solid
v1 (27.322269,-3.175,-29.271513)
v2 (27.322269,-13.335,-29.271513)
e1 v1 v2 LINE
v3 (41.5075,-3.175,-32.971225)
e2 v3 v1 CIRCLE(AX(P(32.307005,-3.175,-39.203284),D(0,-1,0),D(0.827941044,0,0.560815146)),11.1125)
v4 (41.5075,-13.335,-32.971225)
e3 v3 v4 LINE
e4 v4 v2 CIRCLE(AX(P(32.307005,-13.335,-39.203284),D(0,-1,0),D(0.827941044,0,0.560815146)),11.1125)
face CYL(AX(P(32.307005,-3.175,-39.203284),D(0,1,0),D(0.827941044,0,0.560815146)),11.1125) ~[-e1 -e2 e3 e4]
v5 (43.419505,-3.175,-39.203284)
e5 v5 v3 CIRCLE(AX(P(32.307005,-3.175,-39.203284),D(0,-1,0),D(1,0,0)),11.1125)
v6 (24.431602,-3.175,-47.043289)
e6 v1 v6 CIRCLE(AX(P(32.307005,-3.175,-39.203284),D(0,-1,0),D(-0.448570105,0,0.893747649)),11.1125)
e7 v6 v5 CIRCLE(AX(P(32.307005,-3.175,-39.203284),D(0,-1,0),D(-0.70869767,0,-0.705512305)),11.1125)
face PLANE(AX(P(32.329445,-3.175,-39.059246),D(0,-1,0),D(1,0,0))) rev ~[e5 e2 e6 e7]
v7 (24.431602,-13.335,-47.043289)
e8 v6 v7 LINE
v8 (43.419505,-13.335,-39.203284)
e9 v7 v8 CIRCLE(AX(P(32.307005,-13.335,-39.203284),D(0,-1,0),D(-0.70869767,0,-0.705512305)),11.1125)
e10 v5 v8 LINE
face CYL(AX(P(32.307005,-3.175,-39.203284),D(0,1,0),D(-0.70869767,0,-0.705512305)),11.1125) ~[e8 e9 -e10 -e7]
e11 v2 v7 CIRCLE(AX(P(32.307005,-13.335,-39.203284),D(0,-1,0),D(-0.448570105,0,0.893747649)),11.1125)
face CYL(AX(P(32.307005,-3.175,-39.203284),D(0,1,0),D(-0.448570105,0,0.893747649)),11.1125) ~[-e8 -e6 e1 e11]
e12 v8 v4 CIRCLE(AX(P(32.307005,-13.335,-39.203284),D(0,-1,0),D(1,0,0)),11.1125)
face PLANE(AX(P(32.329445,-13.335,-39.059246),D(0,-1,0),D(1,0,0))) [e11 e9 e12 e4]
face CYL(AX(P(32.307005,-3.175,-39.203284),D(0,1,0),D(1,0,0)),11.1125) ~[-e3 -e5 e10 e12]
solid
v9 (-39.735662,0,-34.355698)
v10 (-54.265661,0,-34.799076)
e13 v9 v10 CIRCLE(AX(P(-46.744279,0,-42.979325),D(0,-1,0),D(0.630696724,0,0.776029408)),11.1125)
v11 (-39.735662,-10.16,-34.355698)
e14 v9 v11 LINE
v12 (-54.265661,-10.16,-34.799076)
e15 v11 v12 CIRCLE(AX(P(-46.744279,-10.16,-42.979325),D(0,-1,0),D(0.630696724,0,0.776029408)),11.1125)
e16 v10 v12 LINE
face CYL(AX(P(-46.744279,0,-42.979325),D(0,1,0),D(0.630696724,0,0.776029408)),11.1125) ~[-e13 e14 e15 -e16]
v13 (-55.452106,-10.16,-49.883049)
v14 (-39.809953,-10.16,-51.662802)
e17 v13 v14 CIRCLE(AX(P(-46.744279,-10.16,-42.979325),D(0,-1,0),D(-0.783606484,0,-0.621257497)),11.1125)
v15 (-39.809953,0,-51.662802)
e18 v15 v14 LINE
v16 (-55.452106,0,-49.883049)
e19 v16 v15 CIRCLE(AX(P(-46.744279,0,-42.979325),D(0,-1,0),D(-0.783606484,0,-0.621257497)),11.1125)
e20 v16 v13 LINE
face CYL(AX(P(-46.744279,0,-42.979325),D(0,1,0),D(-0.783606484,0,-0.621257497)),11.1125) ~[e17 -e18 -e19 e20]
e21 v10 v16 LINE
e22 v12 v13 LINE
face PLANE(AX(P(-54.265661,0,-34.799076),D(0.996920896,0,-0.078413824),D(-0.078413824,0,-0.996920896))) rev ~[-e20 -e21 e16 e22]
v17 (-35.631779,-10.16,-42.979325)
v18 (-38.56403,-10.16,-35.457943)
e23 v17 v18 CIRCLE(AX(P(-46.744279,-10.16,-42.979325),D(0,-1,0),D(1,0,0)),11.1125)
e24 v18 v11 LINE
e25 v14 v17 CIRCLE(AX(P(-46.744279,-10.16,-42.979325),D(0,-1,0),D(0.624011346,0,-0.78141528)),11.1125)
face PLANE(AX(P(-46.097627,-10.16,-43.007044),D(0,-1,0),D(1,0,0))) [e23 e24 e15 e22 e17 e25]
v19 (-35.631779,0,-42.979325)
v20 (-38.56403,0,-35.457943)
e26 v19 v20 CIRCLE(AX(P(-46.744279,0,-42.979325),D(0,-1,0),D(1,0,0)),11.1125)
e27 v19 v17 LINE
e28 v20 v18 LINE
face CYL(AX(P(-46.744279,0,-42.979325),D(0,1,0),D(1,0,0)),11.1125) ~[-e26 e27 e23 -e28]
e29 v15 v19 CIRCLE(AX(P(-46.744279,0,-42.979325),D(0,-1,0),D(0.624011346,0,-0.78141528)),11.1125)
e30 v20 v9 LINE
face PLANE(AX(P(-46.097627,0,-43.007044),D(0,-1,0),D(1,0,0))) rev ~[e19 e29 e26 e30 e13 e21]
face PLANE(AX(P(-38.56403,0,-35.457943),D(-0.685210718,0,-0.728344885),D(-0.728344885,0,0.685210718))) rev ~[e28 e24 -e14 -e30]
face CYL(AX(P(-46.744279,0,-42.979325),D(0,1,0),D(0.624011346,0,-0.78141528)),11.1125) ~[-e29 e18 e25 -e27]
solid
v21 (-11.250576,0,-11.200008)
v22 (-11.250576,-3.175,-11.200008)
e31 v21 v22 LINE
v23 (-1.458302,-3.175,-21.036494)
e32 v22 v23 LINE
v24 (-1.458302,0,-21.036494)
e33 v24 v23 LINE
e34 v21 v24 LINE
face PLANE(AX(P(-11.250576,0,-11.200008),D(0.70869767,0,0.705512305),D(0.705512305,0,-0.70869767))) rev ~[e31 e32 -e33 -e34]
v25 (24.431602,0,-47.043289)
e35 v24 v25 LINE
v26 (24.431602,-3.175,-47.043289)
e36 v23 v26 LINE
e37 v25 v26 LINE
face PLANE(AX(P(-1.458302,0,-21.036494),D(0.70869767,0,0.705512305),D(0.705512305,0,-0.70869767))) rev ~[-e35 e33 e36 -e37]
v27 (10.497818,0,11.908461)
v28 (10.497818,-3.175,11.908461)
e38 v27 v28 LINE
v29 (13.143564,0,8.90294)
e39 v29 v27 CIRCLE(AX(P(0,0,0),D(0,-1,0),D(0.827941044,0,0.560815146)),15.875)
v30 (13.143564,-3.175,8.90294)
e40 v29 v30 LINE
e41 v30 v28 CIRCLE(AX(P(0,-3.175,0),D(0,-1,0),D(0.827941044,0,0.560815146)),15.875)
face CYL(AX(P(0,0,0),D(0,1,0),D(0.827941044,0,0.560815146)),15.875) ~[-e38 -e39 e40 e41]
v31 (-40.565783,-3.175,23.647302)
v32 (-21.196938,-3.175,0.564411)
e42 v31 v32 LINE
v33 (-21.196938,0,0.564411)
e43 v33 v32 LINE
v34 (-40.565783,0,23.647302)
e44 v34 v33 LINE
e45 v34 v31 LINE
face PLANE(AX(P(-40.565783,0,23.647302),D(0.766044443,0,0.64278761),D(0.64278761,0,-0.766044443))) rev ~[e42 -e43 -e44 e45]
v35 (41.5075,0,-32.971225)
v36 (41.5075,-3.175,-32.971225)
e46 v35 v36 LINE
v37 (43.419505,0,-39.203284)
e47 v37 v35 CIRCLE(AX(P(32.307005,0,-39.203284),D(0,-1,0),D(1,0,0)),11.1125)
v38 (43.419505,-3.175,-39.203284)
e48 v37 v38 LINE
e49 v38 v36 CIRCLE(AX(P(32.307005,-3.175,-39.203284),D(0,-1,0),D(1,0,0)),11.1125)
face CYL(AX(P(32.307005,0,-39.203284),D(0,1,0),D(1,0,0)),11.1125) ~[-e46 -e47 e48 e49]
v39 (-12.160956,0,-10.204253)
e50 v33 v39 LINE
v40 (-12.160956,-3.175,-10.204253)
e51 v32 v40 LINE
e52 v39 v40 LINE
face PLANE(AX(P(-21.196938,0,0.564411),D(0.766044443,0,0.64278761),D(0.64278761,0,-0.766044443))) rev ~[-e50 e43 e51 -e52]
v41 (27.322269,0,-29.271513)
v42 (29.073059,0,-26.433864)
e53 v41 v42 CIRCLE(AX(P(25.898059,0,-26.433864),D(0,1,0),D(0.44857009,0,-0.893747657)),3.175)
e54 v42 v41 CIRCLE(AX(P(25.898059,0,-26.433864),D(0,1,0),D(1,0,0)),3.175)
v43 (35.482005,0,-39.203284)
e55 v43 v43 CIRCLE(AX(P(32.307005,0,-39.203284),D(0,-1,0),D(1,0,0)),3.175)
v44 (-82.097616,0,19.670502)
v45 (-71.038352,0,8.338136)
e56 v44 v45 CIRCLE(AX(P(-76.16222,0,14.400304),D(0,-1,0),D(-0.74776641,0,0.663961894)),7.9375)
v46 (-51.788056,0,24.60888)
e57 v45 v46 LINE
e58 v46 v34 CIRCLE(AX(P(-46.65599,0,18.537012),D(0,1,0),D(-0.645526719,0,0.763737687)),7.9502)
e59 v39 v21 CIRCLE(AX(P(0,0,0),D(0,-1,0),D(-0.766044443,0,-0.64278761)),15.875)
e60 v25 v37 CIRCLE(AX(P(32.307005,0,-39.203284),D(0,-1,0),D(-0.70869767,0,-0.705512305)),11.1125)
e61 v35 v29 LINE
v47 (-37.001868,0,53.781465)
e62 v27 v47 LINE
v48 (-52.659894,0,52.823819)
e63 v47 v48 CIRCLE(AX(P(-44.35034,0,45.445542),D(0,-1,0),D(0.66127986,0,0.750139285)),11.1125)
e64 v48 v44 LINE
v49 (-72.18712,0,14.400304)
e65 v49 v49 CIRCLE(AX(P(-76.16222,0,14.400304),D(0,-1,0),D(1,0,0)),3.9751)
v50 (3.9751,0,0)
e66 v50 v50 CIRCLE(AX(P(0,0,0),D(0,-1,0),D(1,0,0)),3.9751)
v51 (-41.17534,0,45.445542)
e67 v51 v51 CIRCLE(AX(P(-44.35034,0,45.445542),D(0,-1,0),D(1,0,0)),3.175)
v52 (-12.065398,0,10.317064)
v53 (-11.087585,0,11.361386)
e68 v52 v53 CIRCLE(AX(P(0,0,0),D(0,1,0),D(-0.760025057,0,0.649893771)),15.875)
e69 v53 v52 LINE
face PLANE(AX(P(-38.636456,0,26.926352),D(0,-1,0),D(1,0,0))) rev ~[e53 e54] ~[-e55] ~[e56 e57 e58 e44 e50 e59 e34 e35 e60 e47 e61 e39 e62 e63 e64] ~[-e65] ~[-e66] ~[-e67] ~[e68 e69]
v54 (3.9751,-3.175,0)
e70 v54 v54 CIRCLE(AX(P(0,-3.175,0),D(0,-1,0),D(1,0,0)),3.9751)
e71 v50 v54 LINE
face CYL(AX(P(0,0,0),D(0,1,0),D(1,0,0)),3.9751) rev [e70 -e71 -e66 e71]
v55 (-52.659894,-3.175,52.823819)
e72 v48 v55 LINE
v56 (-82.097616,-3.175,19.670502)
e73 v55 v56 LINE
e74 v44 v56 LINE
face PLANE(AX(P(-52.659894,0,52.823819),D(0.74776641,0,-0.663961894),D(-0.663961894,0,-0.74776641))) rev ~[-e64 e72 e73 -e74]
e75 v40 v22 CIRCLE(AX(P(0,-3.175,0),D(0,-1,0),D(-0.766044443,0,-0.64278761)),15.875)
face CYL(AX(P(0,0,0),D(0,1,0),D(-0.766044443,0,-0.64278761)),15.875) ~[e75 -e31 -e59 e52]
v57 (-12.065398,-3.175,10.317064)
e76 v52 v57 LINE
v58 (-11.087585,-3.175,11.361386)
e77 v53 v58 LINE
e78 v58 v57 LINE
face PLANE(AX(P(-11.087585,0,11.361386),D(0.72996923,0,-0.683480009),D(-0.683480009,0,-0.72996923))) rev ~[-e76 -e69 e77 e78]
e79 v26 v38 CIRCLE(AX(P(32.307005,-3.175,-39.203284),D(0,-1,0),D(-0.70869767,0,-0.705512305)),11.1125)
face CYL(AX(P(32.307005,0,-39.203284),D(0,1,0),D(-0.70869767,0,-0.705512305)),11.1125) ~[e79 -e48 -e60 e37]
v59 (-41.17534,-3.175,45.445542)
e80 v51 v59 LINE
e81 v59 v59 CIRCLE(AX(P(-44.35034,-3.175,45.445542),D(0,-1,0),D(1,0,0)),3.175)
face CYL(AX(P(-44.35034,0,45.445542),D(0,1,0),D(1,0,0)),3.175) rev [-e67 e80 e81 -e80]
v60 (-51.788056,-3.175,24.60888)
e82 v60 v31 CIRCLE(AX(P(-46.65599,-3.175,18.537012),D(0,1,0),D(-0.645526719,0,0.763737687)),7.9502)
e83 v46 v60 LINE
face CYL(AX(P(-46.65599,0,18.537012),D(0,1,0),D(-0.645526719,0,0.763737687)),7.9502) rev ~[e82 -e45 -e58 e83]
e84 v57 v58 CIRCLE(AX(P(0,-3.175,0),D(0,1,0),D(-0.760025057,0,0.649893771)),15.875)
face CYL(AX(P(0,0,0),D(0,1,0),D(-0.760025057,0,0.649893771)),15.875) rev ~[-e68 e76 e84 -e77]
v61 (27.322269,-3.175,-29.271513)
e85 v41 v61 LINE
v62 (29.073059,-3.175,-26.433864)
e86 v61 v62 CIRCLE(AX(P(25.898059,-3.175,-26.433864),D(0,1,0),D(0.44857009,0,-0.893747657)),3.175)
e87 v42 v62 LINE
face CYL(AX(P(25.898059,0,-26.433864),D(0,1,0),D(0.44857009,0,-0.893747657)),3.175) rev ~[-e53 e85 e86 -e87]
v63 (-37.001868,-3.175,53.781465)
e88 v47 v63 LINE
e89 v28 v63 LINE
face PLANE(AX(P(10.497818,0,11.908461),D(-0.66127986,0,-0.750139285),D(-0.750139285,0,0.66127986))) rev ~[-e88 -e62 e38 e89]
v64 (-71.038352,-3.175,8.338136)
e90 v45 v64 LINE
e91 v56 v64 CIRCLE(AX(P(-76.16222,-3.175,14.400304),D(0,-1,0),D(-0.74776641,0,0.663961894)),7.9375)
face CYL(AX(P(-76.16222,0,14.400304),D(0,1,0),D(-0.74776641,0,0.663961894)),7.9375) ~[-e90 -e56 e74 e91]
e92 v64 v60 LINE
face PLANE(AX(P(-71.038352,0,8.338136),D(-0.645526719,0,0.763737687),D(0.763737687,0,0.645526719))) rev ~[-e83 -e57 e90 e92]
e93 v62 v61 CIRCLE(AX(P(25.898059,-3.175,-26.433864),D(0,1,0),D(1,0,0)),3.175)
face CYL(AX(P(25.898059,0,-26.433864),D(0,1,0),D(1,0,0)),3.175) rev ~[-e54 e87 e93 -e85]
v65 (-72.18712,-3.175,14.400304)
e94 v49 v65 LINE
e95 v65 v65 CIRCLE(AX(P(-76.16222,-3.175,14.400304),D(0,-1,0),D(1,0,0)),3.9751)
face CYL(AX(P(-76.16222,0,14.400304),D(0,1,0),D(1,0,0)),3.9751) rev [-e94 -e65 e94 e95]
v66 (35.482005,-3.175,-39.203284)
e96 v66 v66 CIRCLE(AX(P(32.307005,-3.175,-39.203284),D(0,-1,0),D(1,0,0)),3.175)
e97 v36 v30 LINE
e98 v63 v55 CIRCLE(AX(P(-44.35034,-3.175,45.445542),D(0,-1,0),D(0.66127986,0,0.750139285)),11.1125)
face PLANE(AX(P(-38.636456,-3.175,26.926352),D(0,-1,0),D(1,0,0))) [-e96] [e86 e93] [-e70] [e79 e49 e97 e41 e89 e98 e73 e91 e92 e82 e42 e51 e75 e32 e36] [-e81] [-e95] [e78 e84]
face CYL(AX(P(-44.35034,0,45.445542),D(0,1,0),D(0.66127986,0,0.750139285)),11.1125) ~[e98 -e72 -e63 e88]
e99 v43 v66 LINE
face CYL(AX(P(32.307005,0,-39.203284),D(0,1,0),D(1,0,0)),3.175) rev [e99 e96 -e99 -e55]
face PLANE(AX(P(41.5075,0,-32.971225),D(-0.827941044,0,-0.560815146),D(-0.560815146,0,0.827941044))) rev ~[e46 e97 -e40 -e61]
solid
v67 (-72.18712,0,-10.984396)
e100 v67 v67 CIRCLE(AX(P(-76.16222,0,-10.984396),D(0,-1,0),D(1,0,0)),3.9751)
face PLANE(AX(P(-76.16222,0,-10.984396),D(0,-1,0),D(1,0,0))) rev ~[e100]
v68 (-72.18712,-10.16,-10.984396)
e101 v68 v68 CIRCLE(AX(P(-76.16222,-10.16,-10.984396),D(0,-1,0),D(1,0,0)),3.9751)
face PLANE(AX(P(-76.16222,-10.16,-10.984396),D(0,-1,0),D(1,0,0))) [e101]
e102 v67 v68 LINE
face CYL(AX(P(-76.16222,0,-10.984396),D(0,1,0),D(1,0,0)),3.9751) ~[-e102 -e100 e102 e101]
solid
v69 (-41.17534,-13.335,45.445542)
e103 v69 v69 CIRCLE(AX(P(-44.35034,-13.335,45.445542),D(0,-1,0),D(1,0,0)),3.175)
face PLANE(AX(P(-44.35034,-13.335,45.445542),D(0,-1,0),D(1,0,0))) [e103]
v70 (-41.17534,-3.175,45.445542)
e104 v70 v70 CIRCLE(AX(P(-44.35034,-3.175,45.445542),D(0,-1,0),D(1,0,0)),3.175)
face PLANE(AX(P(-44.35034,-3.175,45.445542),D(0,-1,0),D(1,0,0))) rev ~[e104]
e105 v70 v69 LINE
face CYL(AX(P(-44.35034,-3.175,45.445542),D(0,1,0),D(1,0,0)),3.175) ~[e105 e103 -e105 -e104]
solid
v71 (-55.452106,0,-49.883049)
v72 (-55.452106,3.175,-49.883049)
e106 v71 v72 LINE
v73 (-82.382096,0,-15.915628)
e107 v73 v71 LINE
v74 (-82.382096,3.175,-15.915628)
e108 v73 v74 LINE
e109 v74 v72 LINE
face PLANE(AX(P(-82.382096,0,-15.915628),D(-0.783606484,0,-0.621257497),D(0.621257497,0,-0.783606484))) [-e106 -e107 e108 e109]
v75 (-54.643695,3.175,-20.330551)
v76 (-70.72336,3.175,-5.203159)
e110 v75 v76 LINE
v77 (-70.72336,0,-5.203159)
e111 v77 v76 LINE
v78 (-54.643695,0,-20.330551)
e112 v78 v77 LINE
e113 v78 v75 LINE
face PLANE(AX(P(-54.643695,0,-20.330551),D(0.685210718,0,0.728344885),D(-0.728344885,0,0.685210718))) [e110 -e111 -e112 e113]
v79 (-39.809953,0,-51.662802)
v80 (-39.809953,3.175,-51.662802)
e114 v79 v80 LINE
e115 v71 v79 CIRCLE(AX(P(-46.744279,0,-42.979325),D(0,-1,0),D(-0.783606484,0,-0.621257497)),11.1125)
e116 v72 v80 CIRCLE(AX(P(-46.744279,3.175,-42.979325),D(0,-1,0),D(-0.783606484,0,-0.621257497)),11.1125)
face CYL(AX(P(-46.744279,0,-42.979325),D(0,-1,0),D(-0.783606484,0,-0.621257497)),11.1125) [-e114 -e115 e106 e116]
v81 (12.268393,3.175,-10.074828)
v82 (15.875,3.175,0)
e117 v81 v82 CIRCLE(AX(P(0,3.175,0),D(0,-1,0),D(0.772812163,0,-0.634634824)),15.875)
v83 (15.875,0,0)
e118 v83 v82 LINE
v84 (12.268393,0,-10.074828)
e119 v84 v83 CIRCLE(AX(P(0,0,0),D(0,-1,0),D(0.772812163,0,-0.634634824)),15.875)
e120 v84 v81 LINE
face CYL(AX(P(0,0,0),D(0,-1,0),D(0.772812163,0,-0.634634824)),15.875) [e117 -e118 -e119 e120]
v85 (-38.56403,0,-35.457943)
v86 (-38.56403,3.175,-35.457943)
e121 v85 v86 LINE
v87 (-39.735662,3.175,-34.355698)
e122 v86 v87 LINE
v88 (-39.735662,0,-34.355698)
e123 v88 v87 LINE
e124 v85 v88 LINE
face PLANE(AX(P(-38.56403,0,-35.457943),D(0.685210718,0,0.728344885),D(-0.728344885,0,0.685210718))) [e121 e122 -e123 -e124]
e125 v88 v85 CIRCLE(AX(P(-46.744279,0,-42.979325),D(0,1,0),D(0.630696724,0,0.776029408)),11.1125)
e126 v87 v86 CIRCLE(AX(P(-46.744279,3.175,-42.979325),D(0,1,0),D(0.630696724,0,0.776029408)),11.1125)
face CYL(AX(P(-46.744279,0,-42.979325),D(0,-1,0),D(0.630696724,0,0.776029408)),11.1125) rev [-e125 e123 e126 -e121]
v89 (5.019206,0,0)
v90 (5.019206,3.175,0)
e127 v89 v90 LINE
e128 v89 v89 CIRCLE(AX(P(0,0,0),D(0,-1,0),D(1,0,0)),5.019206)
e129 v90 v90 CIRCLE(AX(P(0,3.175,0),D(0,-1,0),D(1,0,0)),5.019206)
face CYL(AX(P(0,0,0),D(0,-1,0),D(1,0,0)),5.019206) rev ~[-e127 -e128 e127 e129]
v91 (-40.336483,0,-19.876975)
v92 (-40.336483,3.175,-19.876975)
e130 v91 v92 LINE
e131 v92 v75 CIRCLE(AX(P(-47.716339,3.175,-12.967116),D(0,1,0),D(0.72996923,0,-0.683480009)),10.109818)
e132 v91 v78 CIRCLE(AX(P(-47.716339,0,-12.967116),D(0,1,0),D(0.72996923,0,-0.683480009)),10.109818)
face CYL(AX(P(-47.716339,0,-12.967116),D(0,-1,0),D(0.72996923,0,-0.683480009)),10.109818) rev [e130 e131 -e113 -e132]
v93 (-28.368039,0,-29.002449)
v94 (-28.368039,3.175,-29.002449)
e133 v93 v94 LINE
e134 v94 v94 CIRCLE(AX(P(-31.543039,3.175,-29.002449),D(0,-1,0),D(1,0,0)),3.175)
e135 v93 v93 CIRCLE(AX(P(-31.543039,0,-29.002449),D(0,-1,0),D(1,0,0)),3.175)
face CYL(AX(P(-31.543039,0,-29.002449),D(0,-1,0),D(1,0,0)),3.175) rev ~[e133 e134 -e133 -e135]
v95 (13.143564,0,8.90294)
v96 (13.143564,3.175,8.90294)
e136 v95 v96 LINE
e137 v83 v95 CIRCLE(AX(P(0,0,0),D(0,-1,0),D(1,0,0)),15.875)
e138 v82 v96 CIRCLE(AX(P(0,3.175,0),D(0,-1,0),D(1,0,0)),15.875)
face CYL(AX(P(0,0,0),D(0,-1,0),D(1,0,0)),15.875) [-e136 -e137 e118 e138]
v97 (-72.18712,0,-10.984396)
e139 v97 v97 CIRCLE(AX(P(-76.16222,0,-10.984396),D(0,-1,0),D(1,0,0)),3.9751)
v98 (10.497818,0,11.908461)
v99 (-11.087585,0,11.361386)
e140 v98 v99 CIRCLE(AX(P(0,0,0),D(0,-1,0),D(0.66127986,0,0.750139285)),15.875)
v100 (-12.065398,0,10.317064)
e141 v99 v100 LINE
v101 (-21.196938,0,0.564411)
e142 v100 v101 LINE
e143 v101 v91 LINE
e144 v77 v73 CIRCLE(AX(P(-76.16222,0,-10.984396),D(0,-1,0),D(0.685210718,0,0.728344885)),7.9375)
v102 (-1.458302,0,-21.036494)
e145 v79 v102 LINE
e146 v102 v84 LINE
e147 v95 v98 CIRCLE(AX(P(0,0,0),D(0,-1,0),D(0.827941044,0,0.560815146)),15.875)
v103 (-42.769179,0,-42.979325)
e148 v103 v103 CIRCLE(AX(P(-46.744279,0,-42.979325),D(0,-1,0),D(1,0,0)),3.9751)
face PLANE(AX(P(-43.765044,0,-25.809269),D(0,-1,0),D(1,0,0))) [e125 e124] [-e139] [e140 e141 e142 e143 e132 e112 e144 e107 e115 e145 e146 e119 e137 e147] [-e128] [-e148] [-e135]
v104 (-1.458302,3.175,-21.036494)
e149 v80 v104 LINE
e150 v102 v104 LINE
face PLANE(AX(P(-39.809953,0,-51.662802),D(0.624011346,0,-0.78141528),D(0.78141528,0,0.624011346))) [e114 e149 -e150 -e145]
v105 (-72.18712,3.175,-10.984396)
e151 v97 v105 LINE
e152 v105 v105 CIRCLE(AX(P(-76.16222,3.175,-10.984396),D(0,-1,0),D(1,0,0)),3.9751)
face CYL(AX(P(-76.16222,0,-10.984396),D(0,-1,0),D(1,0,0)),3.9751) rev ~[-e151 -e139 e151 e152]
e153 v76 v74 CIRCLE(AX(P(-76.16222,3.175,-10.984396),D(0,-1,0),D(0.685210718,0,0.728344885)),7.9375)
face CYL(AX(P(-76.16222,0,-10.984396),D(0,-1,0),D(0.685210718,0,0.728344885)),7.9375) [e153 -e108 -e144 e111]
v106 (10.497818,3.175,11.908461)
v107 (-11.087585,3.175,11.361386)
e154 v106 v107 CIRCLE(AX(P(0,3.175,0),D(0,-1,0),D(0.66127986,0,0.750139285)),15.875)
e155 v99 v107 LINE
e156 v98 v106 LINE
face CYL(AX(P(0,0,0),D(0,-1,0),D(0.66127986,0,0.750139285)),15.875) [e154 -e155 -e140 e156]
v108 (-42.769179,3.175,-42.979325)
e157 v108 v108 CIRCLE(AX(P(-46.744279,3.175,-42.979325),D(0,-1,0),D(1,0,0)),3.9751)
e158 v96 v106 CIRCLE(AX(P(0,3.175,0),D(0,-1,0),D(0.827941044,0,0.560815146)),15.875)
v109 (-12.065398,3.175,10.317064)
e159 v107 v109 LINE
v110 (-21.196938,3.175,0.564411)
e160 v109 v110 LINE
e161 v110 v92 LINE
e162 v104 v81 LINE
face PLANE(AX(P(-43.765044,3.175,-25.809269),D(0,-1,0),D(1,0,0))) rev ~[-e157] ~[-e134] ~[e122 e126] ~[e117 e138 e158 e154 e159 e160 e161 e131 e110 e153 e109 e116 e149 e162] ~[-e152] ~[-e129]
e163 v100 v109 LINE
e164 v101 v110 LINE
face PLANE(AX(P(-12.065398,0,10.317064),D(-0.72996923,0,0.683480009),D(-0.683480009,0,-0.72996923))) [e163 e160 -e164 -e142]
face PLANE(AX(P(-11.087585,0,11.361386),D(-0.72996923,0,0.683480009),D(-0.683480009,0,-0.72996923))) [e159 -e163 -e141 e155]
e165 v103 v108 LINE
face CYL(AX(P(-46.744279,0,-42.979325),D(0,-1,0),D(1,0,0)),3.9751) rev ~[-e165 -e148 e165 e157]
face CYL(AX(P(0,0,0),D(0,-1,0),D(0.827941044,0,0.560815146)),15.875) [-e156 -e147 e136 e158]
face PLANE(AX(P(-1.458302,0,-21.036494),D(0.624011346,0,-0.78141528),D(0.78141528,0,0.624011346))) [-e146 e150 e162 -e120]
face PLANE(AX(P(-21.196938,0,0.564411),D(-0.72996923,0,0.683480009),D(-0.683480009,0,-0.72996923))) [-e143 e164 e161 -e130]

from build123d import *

# Parameters (mm, degrees)
F0_R     = 5.0192058749
F0_R_2   = 3.175
F0_R_3   = 3.9751
F1_DEPTH = 3.175
F2_DEPTH = 3.175
F4_DEPTH = 10.16
F3_R     = 3.175


with BuildPart() as f1:
    # F0 (on Front) → F1 (new body)
    with BuildSketch(Plane.XZ):
        with BuildLine():
            ThreePointArc((-82.0976157368, 19.6705019026), (-73.3433813158, 21.8204159254), (-68.2247198605, 14.4003043691))
            ThreePointArc((-68.2247198605, 14.4003043691), (-68.9624069762, 11.0586579663), (-71.0383515282, 8.338136476))
            Line((-71.0383515282, 8.338136476), (-51.7880564857, 24.6088796977))
            ThreePointArc((-51.7880564857, 24.6088796977), (-45.9772663096, 26.4581873904), (-40.5657834324, 23.6473023906))
            Line((-40.5657834324, 23.6473023906), (-21.1969376927, 0.5644108959))
            Line((-21.1969376927, 0.5644108959), (-12.0653977726, 10.3170636127))
            ThreePointArc((-12.0653977726, 10.3170636127), (-11.5882615315, 10.8502451437), (-11.0875850339, 11.361385616))
            ThreePointArc((-11.0875850339, 11.361385616), (-0.4022179292, 15.8699037722), (10.4978177794, 11.9084611462))
            Line((10.4978177794, 11.9084611462), (-37.0018676901, 53.7814652664))
            ThreePointArc((-37.0018676901, 53.7814652664), (-34.2224687823, 50.0187118354), (-33.2378401357, 45.445542464))
            ThreePointArc((-33.2378401357, 45.445542464), (-34.2706020977, 40.7672375001), (-37.1769244705, 36.9585074138))
            ThreePointArc((-37.1769244705, 36.9585074138), (-52.3033100669, 37.6842329403), (-52.6598943624, 52.8238190109))
            Line((-52.6598943624, 52.8238190109), (-82.0976157368, 19.6705019026))
        make_face()
        with BuildLine():
            ThreePointArc((13.1435640732, 8.9029404386), (11.9158307581, 10.4894519563), (10.4978177794, 11.9084611462))
            ThreePointArc((10.4978177794, 11.9084611462), (-0.4022179292, 15.8699037722), (-11.0875850339, 11.361385616))
            Line((-11.0875850339, 11.361385616), (-12.0653977726, 10.3170636127))
            ThreePointArc((-12.0653977726, 10.3170636127), (-15.8748278931, 0.0739213292), (-12.1609555345, -10.2042533038))
            ThreePointArc((-12.1609555345, -10.2042533038), (-11.7163487615, -10.7118064163), (-11.2505755155, -11.2000078379))
            ThreePointArc((-11.2505755155, -11.2000078379), (-2.5540891897, -15.6681924105), (7.1112039196, -14.1931815959))
            Line((7.1112039196, -14.1931815959), (12.2683930928, -10.0748278358))
            ThreePointArc((12.2683930928, -10.0748278358), (14.946176189, -5.3504618797), (15.875, 0))
            ThreePointArc((15.875, 0), (15.1767866273, 4.6562616624), (13.1435640732, 8.9029404386))
        make_face()
        Circle(F0_R, mode=Mode.SUBTRACT)
        with BuildLine():
            Line((41.5074995689, -32.9712253077), (13.1435640732, 8.9029404386))
            ThreePointArc((13.1435640732, 8.9029404386), (15.1767866273, 4.6562616624), (15.875, 0))
            ThreePointArc((15.875, 0), (14.946176189, -5.3504618797), (12.2683930928, -10.0748278358))
            ThreePointArc((12.2683930928, -10.0748278358), (9.9061801172, -12.404967573), (7.1112039196, -14.1931815959))
            Line((7.1112039196, -14.1931815959), (-1.4583015008, -21.036493657))
            Line((-1.4583015008, -21.036493657), (24.4316018567, -47.0432891013))
            ThreePointArc((24.4316018567, -47.0432891013), (21.3386504244, -37.419226343), (27.3222694847, -29.2715128306))
            ThreePointArc((27.3222694847, -29.2715128306), (35.111487806, -28.4504918444), (41.5074995689, -32.9712253077))
        make_face()
        with BuildLine():
            ThreePointArc((29.0730594479, -26.4338640203), (28.6001412256, -28.1010110043), (27.3222694847, -29.2715128306))
            ThreePointArc((27.3222694847, -29.2715128306), (23.1959776702, -24.7667170362), (29.0730594479, -26.4338640203))
        make_face(mode=Mode.SUBTRACT)
        with BuildLine():
            ThreePointArc((-37.0018676901, 53.7814652664), (-45.0287140261, 56.5373171243), (-52.6598943624, 52.8238190109))
            ThreePointArc((-52.6598943624, 52.8238190109), (-52.3033100669, 37.6842329403), (-37.1769244705, 36.9585074138))
            ThreePointArc((-37.1769244705, 36.9585074138), (-34.2706020977, 40.7672375001), (-33.2378401357, 45.445542464))
            ThreePointArc((-33.2378401357, 45.445542464), (-34.2224687823, 50.0187118354), (-37.0018676901, 53.7814652664))
        make_face()
        with Locations((-44.3503401357, 45.445542464)):
            Circle(F0_R_2, mode=Mode.SUBTRACT)
        with BuildLine():
            ThreePointArc((43.4195047176, -39.2032836147), (42.9307553567, -35.943900451), (41.5074995689, -32.9712253077))
            ThreePointArc((41.5074995689, -32.9712253077), (35.111487806, -28.4504918444), (27.3222694847, -29.2715128306))
            ThreePointArc((27.3222694847, -29.2715128306), (21.3386504244, -37.419226343), (24.4316018567, -47.0432891013))
            ThreePointArc((24.4316018567, -47.0432891013), (36.548009431, -49.4746776424), (43.4195047176, -39.2032836147))
        make_face()
        with Locations((32.3070047176, -39.2032836147)):
            Circle(F0_R_2, mode=Mode.SUBTRACT)
        with BuildLine():
            ThreePointArc((-71.0383515282, 8.338136476), (-68.9624069762, 11.0586579663), (-68.2247198605, 14.4003043691))
            ThreePointArc((-68.2247198605, 14.4003043691), (-73.3433813158, 21.8204159254), (-82.0976157368, 19.6705019026))
            ThreePointArc((-82.0976157368, 19.6705019026), (-81.8429126685, 8.8565118521), (-71.0383515282, 8.338136476))
        make_face()
        with Locations((-76.1622198605, 14.4003043691)):
            Circle(F0_R_3, mode=Mode.SUBTRACT)
        Circle(F0_R)
        Circle(F0_R_3, mode=Mode.SUBTRACT)
        with BuildLine():
            Line((-12.0653977726, 10.3170636127), (-21.1969376927, 0.5644108959))
            Line((-21.1969376927, 0.5644108959), (-12.1609555345, -10.2042533038))
            ThreePointArc((-12.1609555345, -10.2042533038), (-15.8748278931, 0.0739213292), (-12.0653977726, 10.3170636127))
        make_face()
        with BuildLine():
            ThreePointArc((7.1112039196, -14.1931815959), (-2.5540891897, -15.6681924105), (-11.2505755155, -11.2000078379))
            Line((-11.2505755155, -11.2000078379), (-1.4583015008, -21.036493657))
            Line((-1.4583015008, -21.036493657), (7.1112039196, -14.1931815959))
        make_face()
        with BuildLine():
            ThreePointArc((7.1112039196, -14.1931815959), (9.9061801172, -12.404967573), (12.2683930928, -10.0748278358))
            Line((12.2683930928, -10.0748278358), (7.1112039196, -14.1931815959))
        make_face()
    extrude(amount=F1_DEPTH)


with BuildPart() as f2:
    # F0 (on Front) → F2 (new body)
    with BuildSketch(Plane.XZ):
        with BuildLine():
            Line((-12.1609555345, -10.2042533038), (-21.1969376927, 0.5644108959))
            Line((-21.1969376927, 0.5644108959), (-40.3364825574, -19.8769753168))
            ThreePointArc((-40.3364825574, -19.8769753168), (-47.3959924461, -23.0718583423), (-54.6436949702, -20.3305510743))
            Line((-54.6436949702, -20.3305510743), (-70.7233597879, -5.2031589672))
            ThreePointArc((-70.7233597879, -5.2031589672), (-68.8761077945, -7.8353526389), (-68.2247198605, -10.9843964957))
            ThreePointArc((-68.2247198605, -10.9843964957), (-73.5513161122, -18.4802011802), (-82.382096331, -15.9156278776))
            Line((-82.382096331, -15.9156278776), (-55.4521060313, -49.883049003))
            ThreePointArc((-55.4521060313, -49.883049003), (-57.8225624257, -42.1079514503), (-54.2656608596, -34.7990762482))
            ThreePointArc((-54.2656608596, -34.7990762482), (-47.0832153617, -31.8719951294), (-39.7356616255, -34.3556982715))
            ThreePointArc((-39.7356616255, -34.3556982715), (-39.129874871, -34.8855925285), (-38.5640301524, -35.4579431814))
            ThreePointArc((-38.5640301524, -35.4579431814), (-36.3907609409, -38.9429503809), (-35.6317789726, -42.9793250684))
            ThreePointArc((-35.6317789726, -42.9793250684), (-36.7306543832, -47.7975175543), (-39.8099528906, -51.6628023694))
            Line((-39.8099528906, -51.6628023694), (-1.4583015008, -21.036493657))
            Line((-1.4583015008, -21.036493657), (-11.2505755155, -11.2000078379))
            ThreePointArc((-11.2505755155, -11.2000078379), (-11.7163487615, -10.7118064163), (-12.1609555345, -10.2042533038))
        make_face()
        with Locations((-31.5430394507, -29.0024485561)):
            Circle(F0_R_2, mode=Mode.SUBTRACT)
        with BuildLine():
            ThreePointArc((-68.2247198605, -10.9843964957), (-68.8761077945, -7.8353526389), (-70.7233597879, -5.2031589672))
            ThreePointArc((-70.7233597879, -5.2031589672), (-81.5326708837, -5.1395558599), (-82.382096331, -15.9156278776))
            ThreePointArc((-82.382096331, -15.9156278776), (-73.5513161122, -18.4802011802), (-68.2247198605, -10.9843964957))
        make_face()
        with Locations((-76.1622198605, -10.9843964957)):
            Circle(F0_R_3, mode=Mode.SUBTRACT)
        with BuildLine():
            ThreePointArc((-55.4521060313, -49.883049003), (-48.0005460381, -54.0205862875), (-39.8099528906, -51.6628023694))
            ThreePointArc((-39.8099528906, -51.6628023694), (-36.7306543832, -47.7975175543), (-35.6317789726, -42.9793250684))
            ThreePointArc((-35.6317789726, -42.9793250684), (-36.3907609409, -38.9429503809), (-38.5640301524, -35.4579431814))
            Line((-38.5640301524, -35.4579431814), (-39.7356616255, -34.3556982715))
            ThreePointArc((-39.7356616255, -34.3556982715), (-47.0832153617, -31.8719951294), (-54.2656608596, -34.7990762482))
            Line((-54.2656608596, -34.7990762482), (-55.4521060313, -49.883049003))
        make_face()
        with Locations((-46.7442789726, -42.9793250684)):
            Circle(F0_R_3, mode=Mode.SUBTRACT)
        with BuildLine():
            ThreePointArc((13.1435640732, 8.9029404386), (11.9158307581, 10.4894519563), (10.4978177794, 11.9084611462))
            ThreePointArc((10.4978177794, 11.9084611462), (-0.4022179292, 15.8699037722), (-11.0875850339, 11.361385616))
            Line((-11.0875850339, 11.361385616), (-12.0653977726, 10.3170636127))
            ThreePointArc((-12.0653977726, 10.3170636127), (-15.8748278931, 0.0739213292), (-12.1609555345, -10.2042533038))
            ThreePointArc((-12.1609555345, -10.2042533038), (-11.7163487615, -10.7118064163), (-11.2505755155, -11.2000078379))
            ThreePointArc((-11.2505755155, -11.2000078379), (-2.5540891897, -15.6681924105), (7.1112039196, -14.1931815959))
            Line((7.1112039196, -14.1931815959), (12.2683930928, -10.0748278358))
            ThreePointArc((12.2683930928, -10.0748278358), (14.946176189, -5.3504618797), (15.875, 0))
            ThreePointArc((15.875, 0), (15.1767866273, 4.6562616624), (13.1435640732, 8.9029404386))
        make_face()
        Circle(F0_R, mode=Mode.SUBTRACT)
        with BuildLine():
            ThreePointArc((7.1112039196, -14.1931815959), (-2.5540891897, -15.6681924105), (-11.2505755155, -11.2000078379))
            Line((-11.2505755155, -11.2000078379), (-1.4583015008, -21.036493657))
            Line((-1.4583015008, -21.036493657), (7.1112039196, -14.1931815959))
        make_face()
        with BuildLine():
            Line((-12.0653977726, 10.3170636127), (-21.1969376927, 0.5644108959))
            Line((-21.1969376927, 0.5644108959), (-12.1609555345, -10.2042533038))
            ThreePointArc((-12.1609555345, -10.2042533038), (-15.8748278931, 0.0739213292), (-12.0653977726, 10.3170636127))
        make_face()
        with BuildLine():
            ThreePointArc((-54.2656608596, -34.7990762482), (-57.8225624257, -42.1079514503), (-55.4521060313, -49.883049003))
            Line((-55.4521060313, -49.883049003), (-54.2656608596, -34.7990762482))
        make_face()
    extrude(amount=-F2_DEPTH)


with BuildPart() as f4:
    # F0 (on Front) → F4 (new body)
    with BuildSketch(Plane.XZ):
        with Locations((-76.1622198605, -10.9843964957)):
            Circle(F0_R_3)
    extrude(amount=F4_DEPTH)


with BuildPart() as f4b:
    # F0 (on Front) → F4, piece 2 (new body)
    with BuildSketch(Plane.XZ):
        with BuildLine():
            ThreePointArc((-55.4521060313, -49.883049003), (-48.0005460381, -54.0205862875), (-39.8099528906, -51.6628023694))
            ThreePointArc((-39.8099528906, -51.6628023694), (-36.7306543832, -47.7975175543), (-35.6317789726, -42.9793250684))
            ThreePointArc((-35.6317789726, -42.9793250684), (-36.3907609409, -38.9429503809), (-38.5640301524, -35.4579431814))
            Line((-38.5640301524, -35.4579431814), (-39.7356616255, -34.3556982715))
            ThreePointArc((-39.7356616255, -34.3556982715), (-47.0832153617, -31.8719951294), (-54.2656608596, -34.7990762482))
            Line((-54.2656608596, -34.7990762482), (-55.4521060313, -49.883049003))
        make_face()
        with Locations((-46.7442789726, -42.9793250684)):
            Circle(F0_R_3, mode=Mode.SUBTRACT)
        with Locations((-46.7442789726, -42.9793250684)):
            Circle(F0_R_3)
    extrude(amount=F4_DEPTH)


with BuildPart() as f4c:
    # F3 (on face) → F4, piece 3 (new body)
    with BuildSketch(Plane.XZ.offset(3.175)):
        with BuildLine():
            ThreePointArc((24.4316018567, -47.0432891013), (36.548009431, -49.4746776424), (43.4195047176, -39.2032836147))
            ThreePointArc((43.4195047176, -39.2032836147), (42.9307553567, -35.943900451), (41.5074995689, -32.9712253077))
            ThreePointArc((41.5074995689, -32.9712253077), (35.1114877719, -28.4504918355), (27.3222694218, -29.2715128622))
            ThreePointArc((27.3222694218, -29.2715128622), (21.3386504188, -37.4192263777), (24.4316018567, -47.0432891013))
        make_face()
        with Locations((32.3070047176, -39.2032836147)):
            Circle(F3_R, mode=Mode.SUBTRACT)
        with Locations((32.3070047176, -39.2032836147)):
            Circle(F3_R)
    extrude(amount=F4_DEPTH)


with BuildPart() as f4d:
    # F3 (on face) → F4, piece 4 (new body)
    with BuildSketch(Plane.XZ.offset(3.175)):
        with Locations((-44.3503401357, 45.445542464)):
            Circle(F3_R)
    extrude(amount=F4_DEPTH)


solid = Compound([f1.part, f2.part, f4.part, f4b.part, f4c.part, f4d.part])
